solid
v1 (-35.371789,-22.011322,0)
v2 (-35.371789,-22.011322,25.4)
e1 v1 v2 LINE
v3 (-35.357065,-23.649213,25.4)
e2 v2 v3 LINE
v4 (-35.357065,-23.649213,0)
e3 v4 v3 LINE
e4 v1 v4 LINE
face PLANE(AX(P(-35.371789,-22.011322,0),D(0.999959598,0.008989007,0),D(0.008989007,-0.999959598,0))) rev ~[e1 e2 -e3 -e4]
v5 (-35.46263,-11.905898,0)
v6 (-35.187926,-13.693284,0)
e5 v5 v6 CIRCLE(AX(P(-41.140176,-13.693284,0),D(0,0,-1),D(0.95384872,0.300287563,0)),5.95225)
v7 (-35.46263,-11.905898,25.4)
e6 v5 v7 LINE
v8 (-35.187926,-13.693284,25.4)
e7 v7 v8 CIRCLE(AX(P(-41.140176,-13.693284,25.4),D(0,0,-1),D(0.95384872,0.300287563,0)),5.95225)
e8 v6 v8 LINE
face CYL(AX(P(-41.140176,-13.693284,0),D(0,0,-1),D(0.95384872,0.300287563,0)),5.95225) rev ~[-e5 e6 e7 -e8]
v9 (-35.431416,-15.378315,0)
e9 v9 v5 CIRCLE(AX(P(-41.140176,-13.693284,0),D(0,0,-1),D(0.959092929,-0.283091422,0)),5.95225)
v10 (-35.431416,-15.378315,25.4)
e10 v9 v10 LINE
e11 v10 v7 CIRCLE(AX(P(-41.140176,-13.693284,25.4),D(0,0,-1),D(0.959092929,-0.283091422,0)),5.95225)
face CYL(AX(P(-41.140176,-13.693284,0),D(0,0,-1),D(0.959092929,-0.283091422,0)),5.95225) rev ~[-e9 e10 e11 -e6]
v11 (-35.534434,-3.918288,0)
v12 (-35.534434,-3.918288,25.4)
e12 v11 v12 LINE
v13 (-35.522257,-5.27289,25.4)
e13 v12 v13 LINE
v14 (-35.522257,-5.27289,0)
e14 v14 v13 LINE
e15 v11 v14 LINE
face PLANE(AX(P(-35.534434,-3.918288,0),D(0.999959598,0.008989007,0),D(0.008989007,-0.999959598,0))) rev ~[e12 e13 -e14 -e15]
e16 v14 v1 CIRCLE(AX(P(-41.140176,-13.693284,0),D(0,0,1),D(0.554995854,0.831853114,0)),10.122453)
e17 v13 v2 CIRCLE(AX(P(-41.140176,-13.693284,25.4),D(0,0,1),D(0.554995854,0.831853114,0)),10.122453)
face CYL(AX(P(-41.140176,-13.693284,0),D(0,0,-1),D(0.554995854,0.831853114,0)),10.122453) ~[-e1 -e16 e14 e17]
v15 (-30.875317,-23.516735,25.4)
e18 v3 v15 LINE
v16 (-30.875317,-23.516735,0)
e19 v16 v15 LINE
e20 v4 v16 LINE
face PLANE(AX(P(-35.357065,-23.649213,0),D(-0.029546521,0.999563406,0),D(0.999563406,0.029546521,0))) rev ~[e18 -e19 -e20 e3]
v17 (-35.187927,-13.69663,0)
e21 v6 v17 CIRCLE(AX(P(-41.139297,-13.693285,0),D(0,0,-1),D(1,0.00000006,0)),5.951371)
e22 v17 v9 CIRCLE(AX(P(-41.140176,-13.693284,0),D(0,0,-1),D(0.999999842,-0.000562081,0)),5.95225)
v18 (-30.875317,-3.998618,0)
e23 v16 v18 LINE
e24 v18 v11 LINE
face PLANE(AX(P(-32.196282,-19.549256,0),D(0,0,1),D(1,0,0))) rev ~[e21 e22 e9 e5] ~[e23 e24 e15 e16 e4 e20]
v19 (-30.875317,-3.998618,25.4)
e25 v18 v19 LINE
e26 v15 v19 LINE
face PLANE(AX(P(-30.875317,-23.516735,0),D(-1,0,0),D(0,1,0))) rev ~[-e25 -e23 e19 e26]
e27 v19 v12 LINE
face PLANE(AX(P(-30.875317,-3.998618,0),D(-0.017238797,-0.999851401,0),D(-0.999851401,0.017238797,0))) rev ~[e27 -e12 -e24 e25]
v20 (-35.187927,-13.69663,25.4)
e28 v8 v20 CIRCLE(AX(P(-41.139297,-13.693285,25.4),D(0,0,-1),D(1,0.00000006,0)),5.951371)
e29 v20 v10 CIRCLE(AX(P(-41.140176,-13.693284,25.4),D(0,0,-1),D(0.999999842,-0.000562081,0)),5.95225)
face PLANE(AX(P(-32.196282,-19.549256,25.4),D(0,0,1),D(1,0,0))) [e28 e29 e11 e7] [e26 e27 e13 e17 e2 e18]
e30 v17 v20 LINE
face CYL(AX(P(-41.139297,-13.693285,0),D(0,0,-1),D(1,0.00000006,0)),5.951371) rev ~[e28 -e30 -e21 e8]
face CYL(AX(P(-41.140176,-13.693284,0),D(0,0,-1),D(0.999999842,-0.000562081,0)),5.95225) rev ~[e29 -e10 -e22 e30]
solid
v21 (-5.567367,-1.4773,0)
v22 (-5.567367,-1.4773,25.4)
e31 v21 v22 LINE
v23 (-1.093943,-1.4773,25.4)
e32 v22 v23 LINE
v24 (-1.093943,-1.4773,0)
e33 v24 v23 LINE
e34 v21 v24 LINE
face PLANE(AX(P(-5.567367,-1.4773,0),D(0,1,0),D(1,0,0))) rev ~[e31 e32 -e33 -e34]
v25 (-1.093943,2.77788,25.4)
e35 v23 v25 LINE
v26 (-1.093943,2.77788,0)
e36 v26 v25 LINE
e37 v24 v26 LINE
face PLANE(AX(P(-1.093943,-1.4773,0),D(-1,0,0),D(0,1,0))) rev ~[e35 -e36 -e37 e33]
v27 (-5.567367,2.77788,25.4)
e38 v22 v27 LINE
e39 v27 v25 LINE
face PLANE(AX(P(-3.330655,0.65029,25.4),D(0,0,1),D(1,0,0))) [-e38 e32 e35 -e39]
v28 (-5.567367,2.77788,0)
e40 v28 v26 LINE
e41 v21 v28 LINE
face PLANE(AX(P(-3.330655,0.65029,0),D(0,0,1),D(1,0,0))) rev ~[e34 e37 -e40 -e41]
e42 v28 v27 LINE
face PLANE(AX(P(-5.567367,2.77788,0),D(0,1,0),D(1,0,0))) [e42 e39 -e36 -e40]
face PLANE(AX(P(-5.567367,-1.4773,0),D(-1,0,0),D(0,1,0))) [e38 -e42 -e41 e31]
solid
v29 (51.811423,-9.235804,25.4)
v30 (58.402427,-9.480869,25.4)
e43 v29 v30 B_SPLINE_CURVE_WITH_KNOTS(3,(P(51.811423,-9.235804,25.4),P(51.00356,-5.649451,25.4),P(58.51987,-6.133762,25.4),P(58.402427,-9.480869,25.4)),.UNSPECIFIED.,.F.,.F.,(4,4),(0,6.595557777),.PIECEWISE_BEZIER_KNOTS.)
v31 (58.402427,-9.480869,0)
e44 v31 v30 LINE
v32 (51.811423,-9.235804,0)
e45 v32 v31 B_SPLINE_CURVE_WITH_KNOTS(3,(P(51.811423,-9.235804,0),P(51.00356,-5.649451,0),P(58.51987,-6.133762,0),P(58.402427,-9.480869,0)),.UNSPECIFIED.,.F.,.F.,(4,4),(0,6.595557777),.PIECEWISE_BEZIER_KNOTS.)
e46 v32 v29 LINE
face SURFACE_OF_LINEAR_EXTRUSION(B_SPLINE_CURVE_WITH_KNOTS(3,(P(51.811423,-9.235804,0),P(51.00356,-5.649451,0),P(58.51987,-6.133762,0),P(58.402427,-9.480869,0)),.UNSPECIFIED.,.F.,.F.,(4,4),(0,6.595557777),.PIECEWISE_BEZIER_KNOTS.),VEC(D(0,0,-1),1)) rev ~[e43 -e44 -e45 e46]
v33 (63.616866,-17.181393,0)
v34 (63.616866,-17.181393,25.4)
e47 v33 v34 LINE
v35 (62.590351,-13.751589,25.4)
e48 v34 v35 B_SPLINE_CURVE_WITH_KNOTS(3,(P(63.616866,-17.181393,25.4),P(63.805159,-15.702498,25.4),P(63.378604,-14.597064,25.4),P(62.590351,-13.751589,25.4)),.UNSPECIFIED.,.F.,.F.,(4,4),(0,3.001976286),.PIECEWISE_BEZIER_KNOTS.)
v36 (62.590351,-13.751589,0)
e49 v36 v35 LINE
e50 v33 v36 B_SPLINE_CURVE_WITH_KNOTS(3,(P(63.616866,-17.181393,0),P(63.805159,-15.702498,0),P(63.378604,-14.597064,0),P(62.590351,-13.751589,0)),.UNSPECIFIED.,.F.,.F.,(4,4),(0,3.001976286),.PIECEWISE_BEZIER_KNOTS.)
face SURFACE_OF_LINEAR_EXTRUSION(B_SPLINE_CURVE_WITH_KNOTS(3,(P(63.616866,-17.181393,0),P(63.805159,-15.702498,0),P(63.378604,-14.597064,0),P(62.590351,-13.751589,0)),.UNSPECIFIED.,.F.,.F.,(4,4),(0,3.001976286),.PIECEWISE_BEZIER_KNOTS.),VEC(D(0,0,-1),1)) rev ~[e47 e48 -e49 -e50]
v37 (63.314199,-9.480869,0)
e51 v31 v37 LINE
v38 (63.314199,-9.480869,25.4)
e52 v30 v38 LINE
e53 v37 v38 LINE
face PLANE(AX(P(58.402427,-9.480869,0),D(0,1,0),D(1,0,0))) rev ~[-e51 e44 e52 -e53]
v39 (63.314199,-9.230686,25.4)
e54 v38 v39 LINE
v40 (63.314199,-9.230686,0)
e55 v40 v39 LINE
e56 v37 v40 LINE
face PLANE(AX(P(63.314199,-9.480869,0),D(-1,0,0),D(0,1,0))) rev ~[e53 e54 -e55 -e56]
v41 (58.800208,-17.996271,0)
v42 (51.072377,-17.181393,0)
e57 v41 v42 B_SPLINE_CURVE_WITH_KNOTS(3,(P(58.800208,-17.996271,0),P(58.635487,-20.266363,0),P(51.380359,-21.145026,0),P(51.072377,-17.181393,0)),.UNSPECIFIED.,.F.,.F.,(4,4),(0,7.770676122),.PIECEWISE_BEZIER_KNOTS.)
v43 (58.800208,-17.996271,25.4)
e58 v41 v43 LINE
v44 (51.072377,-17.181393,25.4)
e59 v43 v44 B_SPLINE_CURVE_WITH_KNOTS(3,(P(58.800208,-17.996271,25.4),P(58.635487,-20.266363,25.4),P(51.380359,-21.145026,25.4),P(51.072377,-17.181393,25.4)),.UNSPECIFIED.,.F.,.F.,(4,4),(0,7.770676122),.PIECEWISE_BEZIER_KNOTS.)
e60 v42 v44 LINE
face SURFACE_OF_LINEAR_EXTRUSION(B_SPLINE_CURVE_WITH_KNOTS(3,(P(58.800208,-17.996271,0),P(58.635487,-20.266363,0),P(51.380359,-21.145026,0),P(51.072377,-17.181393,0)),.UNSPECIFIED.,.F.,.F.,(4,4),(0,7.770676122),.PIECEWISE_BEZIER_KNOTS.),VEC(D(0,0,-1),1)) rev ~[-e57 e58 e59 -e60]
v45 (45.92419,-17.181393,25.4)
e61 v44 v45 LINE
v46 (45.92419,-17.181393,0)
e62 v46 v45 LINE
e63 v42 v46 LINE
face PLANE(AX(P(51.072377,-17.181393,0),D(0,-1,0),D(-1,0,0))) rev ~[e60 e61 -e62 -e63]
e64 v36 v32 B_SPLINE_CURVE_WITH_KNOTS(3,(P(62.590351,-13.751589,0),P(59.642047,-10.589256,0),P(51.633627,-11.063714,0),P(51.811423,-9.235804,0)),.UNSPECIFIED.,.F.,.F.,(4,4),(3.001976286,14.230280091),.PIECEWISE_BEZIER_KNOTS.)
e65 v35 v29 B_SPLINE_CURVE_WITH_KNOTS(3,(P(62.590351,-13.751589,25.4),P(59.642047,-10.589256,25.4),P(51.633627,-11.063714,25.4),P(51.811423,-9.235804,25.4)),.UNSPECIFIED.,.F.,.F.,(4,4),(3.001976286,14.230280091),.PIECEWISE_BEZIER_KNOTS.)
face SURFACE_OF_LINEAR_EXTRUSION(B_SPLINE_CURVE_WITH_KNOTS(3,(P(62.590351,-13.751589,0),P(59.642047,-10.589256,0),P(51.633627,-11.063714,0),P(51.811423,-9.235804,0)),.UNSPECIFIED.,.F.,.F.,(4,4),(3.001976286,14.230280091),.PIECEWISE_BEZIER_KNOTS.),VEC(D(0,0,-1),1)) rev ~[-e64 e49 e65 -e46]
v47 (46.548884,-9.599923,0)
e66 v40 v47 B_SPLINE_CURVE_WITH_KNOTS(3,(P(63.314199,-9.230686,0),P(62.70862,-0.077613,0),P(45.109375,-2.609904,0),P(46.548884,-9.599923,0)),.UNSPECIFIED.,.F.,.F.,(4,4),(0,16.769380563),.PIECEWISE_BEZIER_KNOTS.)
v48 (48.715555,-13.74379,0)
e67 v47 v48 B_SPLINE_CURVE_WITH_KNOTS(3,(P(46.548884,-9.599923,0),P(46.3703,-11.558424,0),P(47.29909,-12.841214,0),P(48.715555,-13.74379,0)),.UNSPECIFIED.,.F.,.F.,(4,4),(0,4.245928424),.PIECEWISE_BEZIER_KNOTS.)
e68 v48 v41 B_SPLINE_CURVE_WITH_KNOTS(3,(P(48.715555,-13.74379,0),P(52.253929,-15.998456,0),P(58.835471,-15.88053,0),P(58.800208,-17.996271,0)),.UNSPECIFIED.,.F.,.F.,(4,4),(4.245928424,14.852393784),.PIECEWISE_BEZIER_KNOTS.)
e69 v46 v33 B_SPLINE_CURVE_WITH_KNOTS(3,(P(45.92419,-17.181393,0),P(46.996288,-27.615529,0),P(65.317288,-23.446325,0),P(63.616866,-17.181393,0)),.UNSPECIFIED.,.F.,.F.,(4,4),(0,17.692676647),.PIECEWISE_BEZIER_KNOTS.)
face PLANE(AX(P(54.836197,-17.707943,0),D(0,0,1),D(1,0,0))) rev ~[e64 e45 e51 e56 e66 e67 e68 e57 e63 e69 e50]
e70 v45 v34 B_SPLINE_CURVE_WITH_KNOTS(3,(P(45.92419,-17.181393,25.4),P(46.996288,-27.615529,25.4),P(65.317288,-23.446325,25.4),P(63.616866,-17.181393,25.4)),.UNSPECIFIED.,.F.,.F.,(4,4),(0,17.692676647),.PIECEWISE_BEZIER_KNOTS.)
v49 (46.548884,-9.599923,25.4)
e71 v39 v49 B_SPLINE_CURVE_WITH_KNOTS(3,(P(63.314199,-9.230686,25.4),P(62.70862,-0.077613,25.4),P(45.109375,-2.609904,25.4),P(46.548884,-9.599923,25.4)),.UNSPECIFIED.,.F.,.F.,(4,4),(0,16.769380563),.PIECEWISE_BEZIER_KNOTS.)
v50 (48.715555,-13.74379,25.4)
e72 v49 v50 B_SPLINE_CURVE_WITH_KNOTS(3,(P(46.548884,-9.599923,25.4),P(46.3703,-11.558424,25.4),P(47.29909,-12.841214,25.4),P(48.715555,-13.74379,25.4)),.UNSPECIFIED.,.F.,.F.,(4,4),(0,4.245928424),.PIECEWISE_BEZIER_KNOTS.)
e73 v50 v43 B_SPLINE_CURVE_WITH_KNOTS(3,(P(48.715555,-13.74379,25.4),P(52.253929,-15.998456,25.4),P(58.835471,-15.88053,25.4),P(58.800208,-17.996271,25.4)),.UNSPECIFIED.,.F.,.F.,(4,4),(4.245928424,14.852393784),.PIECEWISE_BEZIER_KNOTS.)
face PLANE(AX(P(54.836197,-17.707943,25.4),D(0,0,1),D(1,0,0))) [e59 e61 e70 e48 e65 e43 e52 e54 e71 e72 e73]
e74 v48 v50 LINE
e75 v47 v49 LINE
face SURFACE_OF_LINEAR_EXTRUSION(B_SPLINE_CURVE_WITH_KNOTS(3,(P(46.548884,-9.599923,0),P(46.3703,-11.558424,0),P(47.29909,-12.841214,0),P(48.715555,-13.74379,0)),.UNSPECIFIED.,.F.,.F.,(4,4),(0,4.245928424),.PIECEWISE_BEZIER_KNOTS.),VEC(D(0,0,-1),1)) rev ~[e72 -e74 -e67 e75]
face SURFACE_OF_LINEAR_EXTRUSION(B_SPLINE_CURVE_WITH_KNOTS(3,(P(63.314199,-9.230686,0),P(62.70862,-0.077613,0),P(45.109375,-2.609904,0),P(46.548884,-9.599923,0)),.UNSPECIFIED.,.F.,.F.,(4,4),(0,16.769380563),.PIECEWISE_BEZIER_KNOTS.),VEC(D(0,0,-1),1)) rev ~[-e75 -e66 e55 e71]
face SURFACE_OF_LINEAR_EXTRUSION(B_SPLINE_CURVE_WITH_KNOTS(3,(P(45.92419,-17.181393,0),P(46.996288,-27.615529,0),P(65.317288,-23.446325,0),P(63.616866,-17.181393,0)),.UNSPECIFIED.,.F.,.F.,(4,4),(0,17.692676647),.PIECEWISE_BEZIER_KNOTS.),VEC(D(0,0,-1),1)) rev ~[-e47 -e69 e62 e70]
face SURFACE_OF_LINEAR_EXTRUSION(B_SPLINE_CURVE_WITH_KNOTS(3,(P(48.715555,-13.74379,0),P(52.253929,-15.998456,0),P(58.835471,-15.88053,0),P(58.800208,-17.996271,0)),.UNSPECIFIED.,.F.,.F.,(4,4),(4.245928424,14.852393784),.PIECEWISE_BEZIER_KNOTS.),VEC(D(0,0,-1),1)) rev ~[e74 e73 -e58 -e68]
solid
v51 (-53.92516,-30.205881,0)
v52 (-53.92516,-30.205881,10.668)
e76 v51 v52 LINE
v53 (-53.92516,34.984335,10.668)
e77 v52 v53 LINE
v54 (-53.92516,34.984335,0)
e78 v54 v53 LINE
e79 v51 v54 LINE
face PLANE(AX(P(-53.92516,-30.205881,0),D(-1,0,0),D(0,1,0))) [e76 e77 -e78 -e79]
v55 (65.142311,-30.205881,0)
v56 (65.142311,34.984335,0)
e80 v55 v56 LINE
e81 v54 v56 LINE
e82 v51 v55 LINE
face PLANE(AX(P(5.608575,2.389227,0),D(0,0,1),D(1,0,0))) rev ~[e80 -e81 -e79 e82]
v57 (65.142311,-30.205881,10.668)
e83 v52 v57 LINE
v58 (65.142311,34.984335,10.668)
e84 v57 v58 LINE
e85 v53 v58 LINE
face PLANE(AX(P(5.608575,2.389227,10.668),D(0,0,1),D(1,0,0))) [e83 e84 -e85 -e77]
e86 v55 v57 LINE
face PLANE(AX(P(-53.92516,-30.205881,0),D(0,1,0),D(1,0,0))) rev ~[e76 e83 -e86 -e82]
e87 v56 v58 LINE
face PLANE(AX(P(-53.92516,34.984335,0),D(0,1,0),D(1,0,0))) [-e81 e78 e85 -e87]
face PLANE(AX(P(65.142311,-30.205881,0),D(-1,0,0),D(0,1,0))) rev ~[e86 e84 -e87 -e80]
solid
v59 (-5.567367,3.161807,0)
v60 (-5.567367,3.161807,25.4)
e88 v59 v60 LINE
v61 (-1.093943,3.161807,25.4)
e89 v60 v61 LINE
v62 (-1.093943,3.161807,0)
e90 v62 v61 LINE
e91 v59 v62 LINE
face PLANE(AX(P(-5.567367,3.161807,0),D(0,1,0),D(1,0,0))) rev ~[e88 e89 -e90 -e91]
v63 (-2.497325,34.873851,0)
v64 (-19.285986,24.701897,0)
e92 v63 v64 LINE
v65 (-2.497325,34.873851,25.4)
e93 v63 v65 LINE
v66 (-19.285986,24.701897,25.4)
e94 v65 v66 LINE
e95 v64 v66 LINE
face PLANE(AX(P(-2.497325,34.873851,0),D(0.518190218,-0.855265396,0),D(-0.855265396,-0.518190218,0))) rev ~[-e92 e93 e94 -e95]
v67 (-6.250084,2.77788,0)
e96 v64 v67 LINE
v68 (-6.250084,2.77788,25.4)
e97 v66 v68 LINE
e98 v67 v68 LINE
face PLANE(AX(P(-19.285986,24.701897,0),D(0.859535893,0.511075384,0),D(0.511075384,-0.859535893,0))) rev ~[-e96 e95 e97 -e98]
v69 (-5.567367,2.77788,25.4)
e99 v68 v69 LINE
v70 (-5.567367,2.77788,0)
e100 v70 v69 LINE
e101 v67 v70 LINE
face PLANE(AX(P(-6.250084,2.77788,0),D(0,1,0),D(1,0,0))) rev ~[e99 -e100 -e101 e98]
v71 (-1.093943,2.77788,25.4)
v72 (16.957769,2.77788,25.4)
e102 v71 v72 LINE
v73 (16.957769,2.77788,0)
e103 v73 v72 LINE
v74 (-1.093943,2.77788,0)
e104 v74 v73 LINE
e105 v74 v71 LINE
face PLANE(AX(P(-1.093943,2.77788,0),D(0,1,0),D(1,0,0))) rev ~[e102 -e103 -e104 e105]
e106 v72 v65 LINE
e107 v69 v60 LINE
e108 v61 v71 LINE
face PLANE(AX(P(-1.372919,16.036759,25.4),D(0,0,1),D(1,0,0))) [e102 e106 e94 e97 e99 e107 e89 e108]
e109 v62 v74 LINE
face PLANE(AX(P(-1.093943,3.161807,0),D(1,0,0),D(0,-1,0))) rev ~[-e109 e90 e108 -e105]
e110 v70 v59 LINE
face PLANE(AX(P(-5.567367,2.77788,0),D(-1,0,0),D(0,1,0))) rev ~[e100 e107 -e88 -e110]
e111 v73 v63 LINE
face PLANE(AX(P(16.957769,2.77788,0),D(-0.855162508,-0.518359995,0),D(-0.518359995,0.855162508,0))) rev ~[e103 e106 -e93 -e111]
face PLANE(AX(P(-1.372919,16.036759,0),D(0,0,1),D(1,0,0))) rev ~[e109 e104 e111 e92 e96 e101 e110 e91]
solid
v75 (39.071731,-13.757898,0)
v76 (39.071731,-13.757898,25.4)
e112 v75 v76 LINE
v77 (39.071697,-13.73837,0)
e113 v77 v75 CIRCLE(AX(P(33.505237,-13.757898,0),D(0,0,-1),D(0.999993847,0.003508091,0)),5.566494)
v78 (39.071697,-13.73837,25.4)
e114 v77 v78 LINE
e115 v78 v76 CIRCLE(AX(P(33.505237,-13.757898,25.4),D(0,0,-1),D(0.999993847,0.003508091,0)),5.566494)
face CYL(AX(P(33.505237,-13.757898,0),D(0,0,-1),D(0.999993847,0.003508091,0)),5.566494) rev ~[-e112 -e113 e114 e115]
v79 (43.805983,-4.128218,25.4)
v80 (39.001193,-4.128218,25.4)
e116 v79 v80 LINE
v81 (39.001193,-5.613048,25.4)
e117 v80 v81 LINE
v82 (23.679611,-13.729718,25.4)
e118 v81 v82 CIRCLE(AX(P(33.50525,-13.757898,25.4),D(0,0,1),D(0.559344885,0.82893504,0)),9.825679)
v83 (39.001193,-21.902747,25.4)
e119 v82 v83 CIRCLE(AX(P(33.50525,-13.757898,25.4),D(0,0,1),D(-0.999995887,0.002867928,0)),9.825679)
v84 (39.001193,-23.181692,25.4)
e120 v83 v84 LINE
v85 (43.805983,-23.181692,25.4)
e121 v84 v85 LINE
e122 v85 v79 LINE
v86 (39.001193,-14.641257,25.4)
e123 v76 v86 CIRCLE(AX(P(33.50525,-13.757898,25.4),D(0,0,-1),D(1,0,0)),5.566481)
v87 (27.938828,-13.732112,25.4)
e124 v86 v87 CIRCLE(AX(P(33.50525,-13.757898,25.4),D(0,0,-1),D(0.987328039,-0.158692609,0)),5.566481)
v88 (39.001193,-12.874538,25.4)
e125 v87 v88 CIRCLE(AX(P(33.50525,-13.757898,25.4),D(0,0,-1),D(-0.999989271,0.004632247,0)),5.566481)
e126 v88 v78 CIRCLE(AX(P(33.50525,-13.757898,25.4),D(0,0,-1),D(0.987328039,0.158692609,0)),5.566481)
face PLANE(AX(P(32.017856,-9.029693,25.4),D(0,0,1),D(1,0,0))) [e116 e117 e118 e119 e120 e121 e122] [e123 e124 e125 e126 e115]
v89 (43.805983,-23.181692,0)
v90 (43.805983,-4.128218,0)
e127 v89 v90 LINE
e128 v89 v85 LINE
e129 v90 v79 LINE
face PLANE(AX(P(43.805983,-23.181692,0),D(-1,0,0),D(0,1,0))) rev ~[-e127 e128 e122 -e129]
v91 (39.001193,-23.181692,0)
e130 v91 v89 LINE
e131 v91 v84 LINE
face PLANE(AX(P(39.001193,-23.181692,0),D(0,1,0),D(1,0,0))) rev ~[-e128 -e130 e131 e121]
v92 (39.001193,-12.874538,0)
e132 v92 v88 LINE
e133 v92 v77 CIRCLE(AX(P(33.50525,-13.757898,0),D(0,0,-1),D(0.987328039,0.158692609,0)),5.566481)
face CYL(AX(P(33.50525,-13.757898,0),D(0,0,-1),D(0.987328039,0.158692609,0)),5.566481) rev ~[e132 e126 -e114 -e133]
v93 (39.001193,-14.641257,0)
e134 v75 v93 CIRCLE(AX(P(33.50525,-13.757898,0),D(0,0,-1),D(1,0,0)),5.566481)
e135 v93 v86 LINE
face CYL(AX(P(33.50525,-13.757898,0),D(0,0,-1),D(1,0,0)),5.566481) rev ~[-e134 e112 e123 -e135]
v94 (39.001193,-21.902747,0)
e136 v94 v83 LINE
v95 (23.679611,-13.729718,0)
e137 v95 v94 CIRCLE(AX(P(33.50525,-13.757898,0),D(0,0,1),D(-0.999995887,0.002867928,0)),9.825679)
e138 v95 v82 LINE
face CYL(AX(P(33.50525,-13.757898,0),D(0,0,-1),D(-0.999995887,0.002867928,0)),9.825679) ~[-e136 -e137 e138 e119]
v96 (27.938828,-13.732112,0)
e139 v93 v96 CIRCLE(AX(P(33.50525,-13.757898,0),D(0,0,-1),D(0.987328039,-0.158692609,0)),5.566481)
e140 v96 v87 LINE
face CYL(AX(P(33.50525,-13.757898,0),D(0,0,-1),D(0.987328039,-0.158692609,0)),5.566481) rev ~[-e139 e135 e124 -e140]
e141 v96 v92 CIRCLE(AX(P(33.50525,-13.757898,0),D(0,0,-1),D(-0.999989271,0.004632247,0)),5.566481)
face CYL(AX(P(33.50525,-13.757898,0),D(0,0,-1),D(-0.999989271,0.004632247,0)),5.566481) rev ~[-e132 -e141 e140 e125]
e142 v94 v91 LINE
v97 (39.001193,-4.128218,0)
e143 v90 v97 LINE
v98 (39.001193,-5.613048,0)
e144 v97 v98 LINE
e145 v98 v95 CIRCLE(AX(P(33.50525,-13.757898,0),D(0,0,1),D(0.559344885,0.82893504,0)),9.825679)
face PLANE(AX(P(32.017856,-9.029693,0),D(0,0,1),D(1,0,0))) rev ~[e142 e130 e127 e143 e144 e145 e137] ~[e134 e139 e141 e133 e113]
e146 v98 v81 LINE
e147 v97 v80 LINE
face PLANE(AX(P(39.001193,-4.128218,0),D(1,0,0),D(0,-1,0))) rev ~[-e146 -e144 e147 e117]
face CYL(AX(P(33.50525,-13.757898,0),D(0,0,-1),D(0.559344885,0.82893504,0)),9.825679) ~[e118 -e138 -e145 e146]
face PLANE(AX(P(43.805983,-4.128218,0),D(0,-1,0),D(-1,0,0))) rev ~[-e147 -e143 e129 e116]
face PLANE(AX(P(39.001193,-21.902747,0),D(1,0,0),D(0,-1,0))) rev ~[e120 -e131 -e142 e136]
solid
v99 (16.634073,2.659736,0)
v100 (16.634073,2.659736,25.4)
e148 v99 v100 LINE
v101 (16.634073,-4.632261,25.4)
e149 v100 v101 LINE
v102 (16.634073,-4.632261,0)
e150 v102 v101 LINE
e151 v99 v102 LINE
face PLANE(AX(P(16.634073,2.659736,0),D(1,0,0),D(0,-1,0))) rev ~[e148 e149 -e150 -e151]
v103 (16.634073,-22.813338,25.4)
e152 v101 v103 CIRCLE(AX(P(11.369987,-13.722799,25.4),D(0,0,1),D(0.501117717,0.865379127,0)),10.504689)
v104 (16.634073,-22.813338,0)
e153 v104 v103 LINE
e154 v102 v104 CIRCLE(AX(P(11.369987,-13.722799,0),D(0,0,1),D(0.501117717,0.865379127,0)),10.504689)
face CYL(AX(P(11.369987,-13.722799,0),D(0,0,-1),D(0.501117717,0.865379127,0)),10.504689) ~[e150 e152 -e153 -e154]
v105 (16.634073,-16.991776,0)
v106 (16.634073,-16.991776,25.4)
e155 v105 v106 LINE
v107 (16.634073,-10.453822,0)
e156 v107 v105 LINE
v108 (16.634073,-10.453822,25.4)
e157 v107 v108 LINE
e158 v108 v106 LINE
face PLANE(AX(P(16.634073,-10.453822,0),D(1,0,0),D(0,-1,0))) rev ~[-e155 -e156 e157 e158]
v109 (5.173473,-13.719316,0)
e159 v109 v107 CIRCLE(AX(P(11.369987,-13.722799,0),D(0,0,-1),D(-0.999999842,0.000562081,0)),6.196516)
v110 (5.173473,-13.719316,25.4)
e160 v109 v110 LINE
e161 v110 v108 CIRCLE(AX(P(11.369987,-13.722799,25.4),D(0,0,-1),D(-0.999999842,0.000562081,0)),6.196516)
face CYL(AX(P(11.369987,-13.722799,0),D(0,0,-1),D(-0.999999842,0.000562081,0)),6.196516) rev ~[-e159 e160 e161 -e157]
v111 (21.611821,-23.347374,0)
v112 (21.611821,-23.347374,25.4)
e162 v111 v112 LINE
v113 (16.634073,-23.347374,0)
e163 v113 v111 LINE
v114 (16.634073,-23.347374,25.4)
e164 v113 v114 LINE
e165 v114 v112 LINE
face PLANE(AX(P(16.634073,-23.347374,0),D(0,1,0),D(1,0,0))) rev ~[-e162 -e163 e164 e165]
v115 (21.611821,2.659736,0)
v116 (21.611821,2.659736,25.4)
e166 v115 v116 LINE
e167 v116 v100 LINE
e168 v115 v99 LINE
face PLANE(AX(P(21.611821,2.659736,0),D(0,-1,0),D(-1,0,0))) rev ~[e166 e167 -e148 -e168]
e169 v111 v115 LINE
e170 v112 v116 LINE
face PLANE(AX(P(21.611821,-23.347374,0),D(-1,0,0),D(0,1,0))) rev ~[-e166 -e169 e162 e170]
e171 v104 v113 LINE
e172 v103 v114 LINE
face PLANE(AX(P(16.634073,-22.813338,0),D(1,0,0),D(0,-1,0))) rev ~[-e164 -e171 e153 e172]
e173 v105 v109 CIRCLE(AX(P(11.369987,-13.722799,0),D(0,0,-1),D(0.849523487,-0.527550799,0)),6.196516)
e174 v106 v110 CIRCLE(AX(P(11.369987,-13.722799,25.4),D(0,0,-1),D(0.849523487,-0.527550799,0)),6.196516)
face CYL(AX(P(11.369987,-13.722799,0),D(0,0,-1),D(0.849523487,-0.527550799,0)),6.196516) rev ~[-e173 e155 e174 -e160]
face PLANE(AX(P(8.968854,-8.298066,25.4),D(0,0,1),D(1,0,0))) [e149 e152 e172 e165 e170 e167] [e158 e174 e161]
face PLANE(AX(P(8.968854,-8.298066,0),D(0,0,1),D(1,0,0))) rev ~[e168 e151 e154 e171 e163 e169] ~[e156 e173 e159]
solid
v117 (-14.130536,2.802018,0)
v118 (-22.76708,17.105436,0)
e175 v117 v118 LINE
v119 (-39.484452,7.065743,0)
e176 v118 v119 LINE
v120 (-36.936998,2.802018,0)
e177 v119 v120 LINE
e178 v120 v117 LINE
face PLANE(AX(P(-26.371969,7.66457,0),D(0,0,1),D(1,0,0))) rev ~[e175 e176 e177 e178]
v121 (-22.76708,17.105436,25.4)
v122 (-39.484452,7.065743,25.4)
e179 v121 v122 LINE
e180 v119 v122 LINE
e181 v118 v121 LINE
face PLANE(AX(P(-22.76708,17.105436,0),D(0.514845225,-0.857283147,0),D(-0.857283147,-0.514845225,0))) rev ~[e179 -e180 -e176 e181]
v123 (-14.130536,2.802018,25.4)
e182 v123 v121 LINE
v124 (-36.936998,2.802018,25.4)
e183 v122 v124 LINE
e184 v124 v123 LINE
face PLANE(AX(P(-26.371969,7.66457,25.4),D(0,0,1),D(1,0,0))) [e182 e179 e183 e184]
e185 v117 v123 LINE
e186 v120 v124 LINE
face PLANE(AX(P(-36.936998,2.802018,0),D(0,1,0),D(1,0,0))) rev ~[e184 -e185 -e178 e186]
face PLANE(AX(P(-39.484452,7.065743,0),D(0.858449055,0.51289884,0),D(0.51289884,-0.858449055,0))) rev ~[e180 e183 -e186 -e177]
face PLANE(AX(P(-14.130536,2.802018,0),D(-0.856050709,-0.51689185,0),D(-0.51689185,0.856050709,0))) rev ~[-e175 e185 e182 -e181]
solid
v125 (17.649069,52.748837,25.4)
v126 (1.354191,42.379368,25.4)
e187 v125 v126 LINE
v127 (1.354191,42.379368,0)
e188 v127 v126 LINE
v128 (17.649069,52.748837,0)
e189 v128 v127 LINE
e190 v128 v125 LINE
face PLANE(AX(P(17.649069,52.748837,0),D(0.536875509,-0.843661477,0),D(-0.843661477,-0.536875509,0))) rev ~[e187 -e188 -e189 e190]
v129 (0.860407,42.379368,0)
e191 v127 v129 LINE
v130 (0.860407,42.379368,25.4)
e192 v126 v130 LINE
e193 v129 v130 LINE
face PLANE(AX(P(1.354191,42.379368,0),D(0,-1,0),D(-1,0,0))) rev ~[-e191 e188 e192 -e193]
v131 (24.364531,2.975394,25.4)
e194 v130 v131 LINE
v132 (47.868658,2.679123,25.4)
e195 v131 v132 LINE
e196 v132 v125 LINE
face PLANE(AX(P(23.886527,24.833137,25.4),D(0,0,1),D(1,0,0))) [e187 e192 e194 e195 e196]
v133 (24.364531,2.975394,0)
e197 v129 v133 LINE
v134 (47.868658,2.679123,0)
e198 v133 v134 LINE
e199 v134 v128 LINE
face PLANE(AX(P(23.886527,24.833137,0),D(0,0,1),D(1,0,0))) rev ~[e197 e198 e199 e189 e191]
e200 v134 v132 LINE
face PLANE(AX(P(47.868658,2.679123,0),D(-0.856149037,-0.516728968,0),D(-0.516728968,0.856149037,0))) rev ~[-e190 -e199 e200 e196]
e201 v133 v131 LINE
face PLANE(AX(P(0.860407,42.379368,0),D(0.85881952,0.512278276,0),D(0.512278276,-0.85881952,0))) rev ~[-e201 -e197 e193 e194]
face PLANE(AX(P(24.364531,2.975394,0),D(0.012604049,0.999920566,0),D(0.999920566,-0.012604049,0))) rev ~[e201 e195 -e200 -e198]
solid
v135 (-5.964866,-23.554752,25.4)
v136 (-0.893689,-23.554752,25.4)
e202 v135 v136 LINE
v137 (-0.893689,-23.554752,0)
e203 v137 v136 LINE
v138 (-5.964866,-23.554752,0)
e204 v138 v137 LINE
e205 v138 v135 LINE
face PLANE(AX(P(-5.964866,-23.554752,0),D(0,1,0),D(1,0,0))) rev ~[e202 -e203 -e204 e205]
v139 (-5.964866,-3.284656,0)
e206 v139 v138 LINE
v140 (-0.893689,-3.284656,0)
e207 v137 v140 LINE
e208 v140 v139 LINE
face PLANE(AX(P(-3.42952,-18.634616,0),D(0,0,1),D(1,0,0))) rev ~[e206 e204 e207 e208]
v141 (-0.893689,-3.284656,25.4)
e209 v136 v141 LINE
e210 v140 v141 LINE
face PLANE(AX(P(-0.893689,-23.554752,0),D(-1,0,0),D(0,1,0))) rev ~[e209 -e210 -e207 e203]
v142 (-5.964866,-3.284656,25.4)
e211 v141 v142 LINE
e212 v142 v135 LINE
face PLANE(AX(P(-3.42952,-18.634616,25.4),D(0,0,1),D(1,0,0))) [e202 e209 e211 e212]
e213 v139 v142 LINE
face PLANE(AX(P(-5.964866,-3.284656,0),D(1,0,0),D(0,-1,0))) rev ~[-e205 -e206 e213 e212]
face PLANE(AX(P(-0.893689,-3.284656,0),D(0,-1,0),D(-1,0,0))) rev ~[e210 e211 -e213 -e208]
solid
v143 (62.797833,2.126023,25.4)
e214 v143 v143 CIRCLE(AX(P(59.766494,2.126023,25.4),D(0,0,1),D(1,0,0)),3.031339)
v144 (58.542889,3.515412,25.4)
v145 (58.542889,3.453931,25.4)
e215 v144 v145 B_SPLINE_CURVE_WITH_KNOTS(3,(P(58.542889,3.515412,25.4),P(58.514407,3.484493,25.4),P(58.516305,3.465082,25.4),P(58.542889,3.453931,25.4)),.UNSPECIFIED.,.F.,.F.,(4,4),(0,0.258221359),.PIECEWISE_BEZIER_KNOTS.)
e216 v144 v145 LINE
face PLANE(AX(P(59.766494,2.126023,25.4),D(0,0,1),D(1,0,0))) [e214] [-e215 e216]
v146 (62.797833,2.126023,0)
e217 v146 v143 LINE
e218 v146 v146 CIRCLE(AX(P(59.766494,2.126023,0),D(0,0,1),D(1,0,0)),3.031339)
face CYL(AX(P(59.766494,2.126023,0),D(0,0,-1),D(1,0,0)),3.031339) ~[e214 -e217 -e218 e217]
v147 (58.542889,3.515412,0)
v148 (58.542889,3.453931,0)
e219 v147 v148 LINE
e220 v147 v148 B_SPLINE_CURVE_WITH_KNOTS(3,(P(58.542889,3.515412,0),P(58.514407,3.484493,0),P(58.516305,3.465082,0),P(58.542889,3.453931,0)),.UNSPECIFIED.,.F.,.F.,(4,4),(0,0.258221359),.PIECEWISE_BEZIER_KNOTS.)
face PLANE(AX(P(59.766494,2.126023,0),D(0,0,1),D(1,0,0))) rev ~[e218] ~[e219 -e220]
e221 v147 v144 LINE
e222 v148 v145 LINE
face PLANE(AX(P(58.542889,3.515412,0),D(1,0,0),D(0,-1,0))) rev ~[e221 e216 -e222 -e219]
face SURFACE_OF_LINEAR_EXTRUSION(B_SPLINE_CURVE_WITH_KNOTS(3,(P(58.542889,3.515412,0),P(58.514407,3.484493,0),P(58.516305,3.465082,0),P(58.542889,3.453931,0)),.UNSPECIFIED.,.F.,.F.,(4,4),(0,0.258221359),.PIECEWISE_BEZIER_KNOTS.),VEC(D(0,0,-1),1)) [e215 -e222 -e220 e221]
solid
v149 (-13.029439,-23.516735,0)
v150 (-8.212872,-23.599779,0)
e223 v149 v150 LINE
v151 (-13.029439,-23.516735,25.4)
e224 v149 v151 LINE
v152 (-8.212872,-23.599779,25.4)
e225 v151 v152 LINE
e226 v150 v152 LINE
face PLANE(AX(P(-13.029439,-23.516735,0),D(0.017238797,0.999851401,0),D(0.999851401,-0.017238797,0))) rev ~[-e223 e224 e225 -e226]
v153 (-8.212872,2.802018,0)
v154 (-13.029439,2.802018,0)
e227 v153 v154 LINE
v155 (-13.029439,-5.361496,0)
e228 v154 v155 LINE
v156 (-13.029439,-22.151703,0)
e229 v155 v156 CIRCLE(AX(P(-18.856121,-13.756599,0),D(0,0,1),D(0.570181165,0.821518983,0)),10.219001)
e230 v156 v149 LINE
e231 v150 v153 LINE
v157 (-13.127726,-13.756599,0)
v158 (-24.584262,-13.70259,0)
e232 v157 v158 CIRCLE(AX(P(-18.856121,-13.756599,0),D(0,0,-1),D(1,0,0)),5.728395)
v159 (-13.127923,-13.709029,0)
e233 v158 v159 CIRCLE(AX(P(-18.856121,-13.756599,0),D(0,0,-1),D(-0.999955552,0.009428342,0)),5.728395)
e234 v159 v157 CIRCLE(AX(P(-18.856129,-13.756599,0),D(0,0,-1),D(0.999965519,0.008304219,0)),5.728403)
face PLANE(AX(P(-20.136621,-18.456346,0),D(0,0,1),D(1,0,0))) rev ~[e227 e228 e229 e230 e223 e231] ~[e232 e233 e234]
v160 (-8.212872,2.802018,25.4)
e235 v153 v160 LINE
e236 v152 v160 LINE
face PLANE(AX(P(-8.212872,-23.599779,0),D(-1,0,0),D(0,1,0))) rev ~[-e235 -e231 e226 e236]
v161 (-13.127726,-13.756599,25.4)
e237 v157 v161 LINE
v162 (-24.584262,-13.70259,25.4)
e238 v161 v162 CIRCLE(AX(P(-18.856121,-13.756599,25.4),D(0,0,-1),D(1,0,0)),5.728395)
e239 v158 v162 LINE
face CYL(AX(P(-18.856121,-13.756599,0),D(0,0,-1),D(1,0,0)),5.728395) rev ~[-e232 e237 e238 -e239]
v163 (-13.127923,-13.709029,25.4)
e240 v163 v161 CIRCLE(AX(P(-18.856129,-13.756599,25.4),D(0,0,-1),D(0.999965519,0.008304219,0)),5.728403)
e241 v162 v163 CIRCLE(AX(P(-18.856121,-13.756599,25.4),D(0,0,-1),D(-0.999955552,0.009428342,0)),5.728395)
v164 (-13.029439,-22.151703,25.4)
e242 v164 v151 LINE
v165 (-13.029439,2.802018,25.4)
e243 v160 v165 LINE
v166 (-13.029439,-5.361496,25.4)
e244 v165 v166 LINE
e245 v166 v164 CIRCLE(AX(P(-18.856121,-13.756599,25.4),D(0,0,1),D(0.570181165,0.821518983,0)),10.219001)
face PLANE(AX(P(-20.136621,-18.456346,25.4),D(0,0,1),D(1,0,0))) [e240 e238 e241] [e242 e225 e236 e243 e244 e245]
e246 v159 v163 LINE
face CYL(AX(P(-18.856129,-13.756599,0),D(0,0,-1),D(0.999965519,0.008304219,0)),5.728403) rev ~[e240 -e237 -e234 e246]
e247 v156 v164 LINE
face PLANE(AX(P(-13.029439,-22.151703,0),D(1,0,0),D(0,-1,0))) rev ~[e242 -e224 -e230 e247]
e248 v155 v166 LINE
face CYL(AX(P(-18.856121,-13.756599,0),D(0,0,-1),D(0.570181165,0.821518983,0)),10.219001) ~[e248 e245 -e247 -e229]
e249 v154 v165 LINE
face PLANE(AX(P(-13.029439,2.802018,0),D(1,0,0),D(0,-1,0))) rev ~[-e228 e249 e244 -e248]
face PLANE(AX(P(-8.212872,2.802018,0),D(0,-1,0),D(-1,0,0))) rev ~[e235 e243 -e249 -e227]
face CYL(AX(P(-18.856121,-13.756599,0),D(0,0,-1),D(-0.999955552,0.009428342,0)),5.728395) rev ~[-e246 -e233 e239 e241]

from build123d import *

# Parameters (mm, degrees)
F1_DEPTH = 25.4
F0_W     = 4.473424051
F0_H     = 4.2551801307
F0_R     = 3.0313387654
F2_W     = 119.0674714744
F2_H     = 65.1902165264
F3_DEPTH = 10.668


with BuildPart() as f1:
    # F0 (on Top) → F1 (new body)
    with BuildSketch(Plane.XY):
        with BuildLine():
            Line((-30.875317251, -13.699053923), (-31.0177251155, -13.6989738783))
            ThreePointArc((-31.0177251155, -13.6989738783), (-32.1733780362, -18.3901533475), (-35.3717890416, -22.0113224302))
            Line((-35.3717890416, -22.0113224302), (-35.3570654375, -23.6492129693))
            Line((-35.3570654375, -23.6492129693), (-30.875317251, -23.516735062))
            Line((-30.875317251, -23.516735062), (-30.875317251, -13.699053923))
        make_face()
        with BuildLine():
            Line((-35.4626304443, -11.9058976395), (-35.5222570014, -5.2728903326))
            ThreePointArc((-35.5222570014, -5.2728903326), (-51.2622202285, -13.7842750411), (-35.3717890416, -22.0113224302))
            Line((-35.3717890416, -22.0113224302), (-35.4314155987, -15.3783151233))
            ThreePointArc((-35.4314155987, -15.3783151233), (-47.0921857379, -13.7467890581), (-35.4626304443, -11.9058976395))
        make_face()
        with BuildLine():
            ThreePointArc((-31.0177251155, -13.6989738783), (-31.0177239162, -13.6961290609), (-31.0177235164, -13.6932842433))
            ThreePointArc((-31.0177235164, -13.6932842433), (-32.2146182443, -8.9185105437), (-35.5222570014, -5.2728903326))
            Line((-35.5222570014, -5.2728903326), (-35.4626304443, -11.9058976395))
            ThreePointArc((-35.4626304443, -11.9058976395), (-35.2570033033, -12.7890977121), (-35.1879264914, -13.6932842433))
            ThreePointArc((-35.1879264914, -13.6932842433), (-35.1879267264, -13.6949570657), (-35.1879274316, -13.6966298879))
            Line((-35.1879274316, -13.6966298879), (-31.0177251155, -13.6989738783))
        make_face()
        with BuildLine():
            ThreePointArc((-35.3717890416, -22.0113224302), (-32.1733780362, -18.3901533475), (-31.0177251155, -13.6989738783))
            Line((-31.0177251155, -13.6989738783), (-35.1879274316, -13.6966298879))
            ThreePointArc((-35.1879274316, -13.6966298879), (-35.2493527288, -14.5462059537), (-35.4314155987, -15.3783151233))
            Line((-35.4314155987, -15.3783151233), (-35.3717890416, -22.0113224302))
        make_face()
        with BuildLine():
            ThreePointArc((-35.5222570014, -5.2728903326), (-32.2146182443, -8.9185105437), (-31.0177235164, -13.6932842433))
            ThreePointArc((-31.0177235164, -13.6932842433), (-31.0177239162, -13.6961290609), (-31.0177251155, -13.6989738783))
            Line((-31.0177251155, -13.6989738783), (-30.875317251, -13.699053923))
            Line((-30.875317251, -13.699053923), (-30.875317251, -3.9986177819))
            Line((-30.875317251, -3.9986177819), (-35.5344340205, -3.9182882756))
            Line((-35.5344340205, -3.9182882756), (-35.5222570014, -5.2728903326))
        make_face()
    extrude(amount=F1_DEPTH)


with BuildPart() as f1b:
    # F0 (on Top) → F1, piece 2 (new body)
    with BuildSketch(Plane.XY):
        with BuildLine():
            Line((-24.5842620734, -13.702590004), (-29.0749657689, -13.7000658659))
            ThreePointArc((-29.0749657689, -13.7000658659), (-23.6185065316, -22.7980408662), (-13.0294393748, -22.1517025158))
            Line((-13.0294393748, -22.1517025158), (-13.0294393748, -13.7090847474))
            Line((-13.0294393748, -13.7090847474), (-13.1279232852, -13.7090293915))
            ThreePointArc((-13.1279232852, -13.7090293915), (-13.1277751463, -13.7328141294), (-13.1277257663, -13.7565992773))
            ThreePointArc((-13.1277257663, -13.7565992773), (-18.8831261638, -19.4849310841), (-24.5842620734, -13.702590004))
        make_face()
        with BuildLine():
            Line((-13.0294393748, -13.7090847474), (-13.0294393748, -22.1517025158))
            ThreePointArc((-13.0294393748, -22.1517025158), (-9.8015409773, -18.4939567995), (-8.6371203075, -13.7565992773))
            ThreePointArc((-8.6371203075, -13.7565992773), (-8.6371451281, -13.7340763487), (-8.6372195897, -13.7115535296))
            Line((-8.6372195897, -13.7115535296), (-13.0294393748, -13.7090847474))
        make_face()
        with BuildLine():
            ThreePointArc((-8.6371203075, -13.7565992773), (-9.8015409773, -18.4939567995), (-13.0294393748, -22.1517025158))
            Line((-13.0294393748, -22.1517025158), (-13.0294393748, -23.516735062))
            Line((-13.0294393748, -23.516735062), (-8.2128718495, -23.5997792333))
            Line((-8.2128718495, -23.5997792333), (-8.2128718495, -13.7117920473))
            Line((-8.2128718495, -13.7117920473), (-8.6372195897, -13.7115535296))
            ThreePointArc((-8.6372195897, -13.7115535296), (-8.6371451281, -13.7340763487), (-8.6371203075, -13.7565992773))
        make_face()
        with BuildLine():
            Line((-13.0294393748, 2.802018309), (-13.0294393748, -5.3614960387))
            ThreePointArc((-13.0294393748, -5.3614960387), (-9.8120042218, -8.9992967446), (-8.6372195897, -13.7115535296))
            Line((-8.6372195897, -13.7115535296), (-8.2128718495, -13.7117920473))
            Line((-8.2128718495, -13.7117920473), (-8.2128718495, 2.802018309))
            Line((-8.2128718495, 2.802018309), (-13.0294393748, 2.802018309))
        make_face()
        with BuildLine():
            ThreePointArc((-13.0294393748, -5.3614960387), (-23.5684147201, -4.6889496462), (-29.0749657689, -13.7000658659))
            Line((-29.0749657689, -13.7000658659), (-24.5842620734, -13.702590004))
            ThreePointArc((-24.5842620734, -13.702590004), (-18.8529014068, -8.0282047213), (-13.1279232852, -13.7090293915))
            Line((-13.1279232852, -13.7090293915), (-13.0294393748, -13.7090847474))
            Line((-13.0294393748, -13.7090847474), (-13.0294393748, -5.3614960387))
        make_face()
        with BuildLine():
            ThreePointArc((-8.6372195897, -13.7115535296), (-9.8120042218, -8.9992967446), (-13.0294393748, -5.3614960387))
            Line((-13.0294393748, -5.3614960387), (-13.0294393748, -13.7090847474))
            Line((-13.0294393748, -13.7090847474), (-8.6372195897, -13.7115535296))
        make_face()
    extrude(amount=F1_DEPTH)


with BuildPart() as f1c:
    # F0 (on Top) → F1, piece 3 (new body)
    with BuildSketch(Plane.XY):
        Polygon((-0.8936892846, -13.7159060189), (-5.964865908, -13.7130556082), (-5.964865908, -23.5547516495), (-0.8936892846, -23.5547516495), align=None)
        Polygon((-5.964865908, -3.284655977), (-5.964865908, -13.7130556082), (-0.8936892846, -13.7159060189), (-0.8936892846, -3.284655977), align=None)
    extrude(amount=F1_DEPTH)


with BuildPart() as f1d:
    # F0 (on Top) → F1, piece 4 (new body)
    with BuildSketch(Plane.XY):
        with Locations((-3.3306546975, 0.6502897595)):
            Rectangle(F0_W, F0_H)
    extrude(amount=F1_DEPTH)


with BuildPart() as f1e:
    # F0 (on Top) → F1, piece 5 (new body)
    with BuildSketch(Plane.XY):
        with BuildLine():
            ThreePointArc((16.6340731084, -4.6322608663), (6.1260749403, -4.6206090368), (0.8653004574, -13.7168947132))
            Line((0.8653004574, -13.7168947132), (5.1734727752, -13.7193162539))
            ThreePointArc((5.1734727752, -13.7193162539), (9.6719832069, -7.7634713647), (16.6340731084, -10.4538223921))
            Line((16.6340731084, -10.4538223921), (16.6340731084, -4.6322608663))
        make_face()
        with BuildLine():
            Line((5.1734727752, -13.7193162539), (0.8653004574, -13.7168947132))
            ThreePointArc((0.8653004574, -13.7168947132), (6.1209596036, -22.8220404146), (16.6340731084, -22.8133375248))
            Line((16.6340731084, -22.8133375248), (16.6340731084, -16.991775999))
            ThreePointArc((16.6340731084, -16.991775999), (9.6686338522, -19.6811716696), (5.1734727752, -13.7193162539))
        make_face()
        with BuildLine():
            Line((16.6340731084, -16.991775999), (16.6340731084, -22.8133375248))
            ThreePointArc((16.6340731084, -22.8133375248), (19.8267542843, -19.9542982046), (21.6118209064, -16.0580363962))
            Line((21.6118209064, -16.0580363962), (21.6118209064, -13.7285559329))
            Line((21.6118209064, -13.7285559329), (17.5665022046, -13.7262821372))
            ThreePointArc((17.5665022046, -13.7262821372), (17.328359964, -15.4241528333), (16.6340731084, -16.991775999))
        make_face()
        with BuildLine():
            ThreePointArc((21.6118209064, -11.3875619949), (19.8267542843, -7.4913001865), (16.6340731084, -4.6322608663))
            Line((16.6340731084, -4.6322608663), (16.6340731084, -10.4538223921))
            ThreePointArc((16.6340731084, -10.4538223921), (17.3288378777, -12.023120168), (17.5665031835, -13.7227991955))
            ThreePointArc((17.5665031835, -13.7227991955), (17.5665029388, -13.7245406664), (17.5665022046, -13.7262821372))
            Line((17.5665022046, -13.7262821372), (21.6118209064, -13.7285559329))
            Line((21.6118209064, -13.7285559329), (21.6118209064, -11.3875619949))
        make_face()
        with BuildLine():
            Line((16.6340731084, 2.6597355027), (16.6340731084, -4.6322608663))
            ThreePointArc((16.6340731084, -4.6322608663), (19.8267542843, -7.4913001865), (21.6118209064, -11.3875619949))
            Line((21.6118209064, -11.3875619949), (21.6118209064, 2.6597355027))
            Line((21.6118209064, 2.6597355027), (16.6340731084, 2.6597355027))
        make_face()
        with BuildLine():
            ThreePointArc((21.6118209064, -16.0580363962), (19.8267542843, -19.9542982046), (16.6340731084, -22.8133375248))
            Line((16.6340731084, -22.8133375248), (16.6340731084, -23.3473740518))
            Line((16.6340731084, -23.3473740518), (21.6118209064, -23.3473740518))
            Line((21.6118209064, -23.3473740518), (21.6118209064, -16.0580363962))
        make_face()
        with BuildLine():
            ThreePointArc((17.5665031835, -13.7227991955), (17.3288378777, -12.023120168), (16.6340731084, -10.4538223921))
            Line((16.6340731084, -10.4538223921), (16.6340731084, -13.7257580367))
            Line((16.6340731084, -13.7257580367), (17.5665022046, -13.7262821372))
            ThreePointArc((17.5665022046, -13.7262821372), (17.5665029388, -13.7245406664), (17.5665031835, -13.7227991955))
        make_face()
        with BuildLine():
            Line((16.6340731084, -13.7257580367), (16.6340731084, -16.991775999))
            ThreePointArc((16.6340731084, -16.991775999), (17.328359964, -15.4241528333), (17.5665022046, -13.7262821372))
            Line((17.5665022046, -13.7262821372), (16.6340731084, -13.7257580367))
        make_face()
    extrude(amount=F1_DEPTH)


with BuildPart() as f1f:
    # F0 (on Top) → F1, piece 6 (new body)
    with BuildSketch(Plane.XY):
        with BuildLine():
            ThreePointArc((39.0011928976, -5.6130481669), (28.9056141111, -5.0753107132), (23.6796114621, -13.7297181982))
            Line((23.6796114621, -13.7297181982), (27.9388281247, -13.7321122219))
            ThreePointArc((27.9388281247, -13.7321122219), (33.0750170948, -8.2080673953), (39.0011928976, -12.8745380892))
            Line((39.0011928976, -12.8745380892), (39.0011928976, -5.6130481669))
        make_face()
        with BuildLine():
            ThreePointArc((43.3309135445, -13.7407638168), (42.1772074459, -9.1382533724), (39.0011928976, -5.6130481669))
            Line((39.0011928976, -5.6130481669), (39.0011928976, -12.8745380892))
            ThreePointArc((39.0011928976, -12.8745380892), (39.0532828228, -13.3050796672), (39.0716968819, -13.7383697931))
            Line((39.0716968819, -13.7383697931), (43.3309135445, -13.7407638168))
        make_face()
        with BuildLine():
            Line((39.0011928976, -14.6412569927), (39.0011928976, -21.9027469149))
            ThreePointArc((39.0011928976, -21.9027469149), (42.1812319499, -18.3699790007), (43.3309284831, -13.7578975409))
            ThreePointArc((43.3309284831, -13.7578975409), (43.3309247484, -13.7493306756), (43.3309135445, -13.7407638168))
            Line((43.3309135445, -13.7407638168), (39.0716968819, -13.7383697931))
            ThreePointArc((39.0716968819, -13.7383697931), (39.0717225714, -13.748133652), (39.0717311346, -13.7578975409))
            ThreePointArc((39.0717311346, -13.7578975409), (39.0540685534, -14.2009831884), (39.0011928976, -14.6412569927))
        make_face()
        with BuildLine():
            Line((27.9388281247, -13.7321122219), (23.6796114621, -13.7297181982))
            ThreePointArc((23.6796114621, -13.7297181982), (28.8807319901, -22.4272572358), (39.0011928976, -21.9027469149))
            Line((39.0011928976, -21.9027469149), (39.0011928976, -14.6412569927))
            ThreePointArc((39.0011928976, -14.6412569927), (33.0493135242, -19.3056751987), (27.9388281247, -13.7321122219))
        make_face()
        with BuildLine():
            ThreePointArc((43.3309284831, -13.7578975409), (42.1812319499, -18.3699790007), (39.0011928976, -21.9027469149))
            Line((39.0011928976, -21.9027469149), (39.0011928976, -23.1816917658))
            Line((39.0011928976, -23.1816917658), (43.8059829175, -23.1816917658))
            Line((43.8059829175, -23.1816917658), (43.8059829175, -13.7410308441))
            Line((43.8059829175, -13.7410308441), (43.3309135445, -13.7407638168))
            ThreePointArc((43.3309135445, -13.7407638168), (43.3309247484, -13.7493306756), (43.3309284831, -13.7578975409))
        make_face()
        with BuildLine():
            Line((39.0011928976, -4.1282181628), (39.0011928976, -5.6130481669))
            ThreePointArc((39.0011928976, -5.6130481669), (42.1772074459, -9.1382533724), (43.3309135445, -13.7407638168))
            Line((43.3309135445, -13.7407638168), (43.8059829175, -13.7410308441))
            Line((43.8059829175, -13.7410308441), (43.8059829175, -4.1282181628))
            Line((43.8059829175, -4.1282181628), (39.0011928976, -4.1282181628))
        make_face()
    extrude(amount=F1_DEPTH)


with BuildPart() as f1g:
    # F0 (on Top) → F1, piece 7 (new body)
    with BuildSketch(Plane.XY):
        with BuildLine():
            Line((62.5903514688, -13.7515891761), (48.7155546756, -13.7437904199))
            add(Edge.make_bspline(
                [(48.7155546756, -13.7437904199), (52.2539287746, -15.9984560349), (58.83547103, -15.8805297751), (58.8002084507, -17.9962712332)],
                knots=[4.2459284241, 4.2459284241, 4.2459284241, 4.2459284241, 14.8523937837, 14.8523937837, 14.8523937837, 14.8523937837], degree=3))
            add(Edge.make_bspline(
                [(58.8002084507, -17.9962712332), (58.6354872896, -20.2663625582), (51.3803586364, -21.1450262918), (51.0723768715, -17.1813930312)],
                knots=[0, 0, 0, 0, 7.7706761224, 7.7706761224, 7.7706761224, 7.7706761224], degree=3))
            Line((51.0723768715, -17.1813930312), (45.9241895689, -17.1813930312))
            add(Edge.make_bspline(
                [(45.9241895689, -17.1813930312), (46.9962880015, -27.6155285537), (65.3172880411, -23.4463252127), (63.6168662162, -17.1813930312)],
                knots=[0, 0, 0, 0, 17.6926766473, 17.6926766473, 17.6926766473, 17.6926766473], degree=3))
            add(Edge.make_bspline(
                [(63.6168662162, -17.1813930312), (63.8051585342, -15.7024980497), (63.378604204, -14.5970641726), (62.5903514688, -13.7515891761)],
                knots=[0, 0, 0, 0, 3.0019762863, 3.0019762863, 3.0019762863, 3.0019762863], degree=3))
        make_face()
        with BuildLine():
            add(Edge.make_bspline(
                [(46.5488844162, -9.5999231873), (46.370299762, -11.5584239085), (47.2990900332, -12.8412136898), (48.7155546756, -13.7437904199)],
                knots=[0, 0, 0, 0, 4.2459284241, 4.2459284241, 4.2459284241, 4.2459284241], degree=3))
            Line((48.7155546756, -13.7437904199), (62.5903514688, -13.7515891761))
            add(Edge.make_bspline(
                [(62.5903514688, -13.7515891761), (59.6420466387, -10.5892556947), (51.6336267896, -11.0637141312), (51.8114231527, -9.2358039692)],
                knots=[3.0019762863, 3.0019762863, 3.0019762863, 3.0019762863, 14.2302800909, 14.2302800909, 14.2302800909, 14.2302800909], degree=3))
            add(Edge.make_bspline(
                [(51.8114231527, -9.2358039692), (51.0035604239, -5.6494511664), (58.5198700428, -6.1337624211), (58.4024265409, -9.480868699)],
                knots=[0, 0, 0, 0, 6.5955577766, 6.5955577766, 6.5955577766, 6.5955577766], degree=3))
            Line((58.4024265409, -9.480868699), (63.3141994476, -9.480868699))
            Line((63.3141994476, -9.480868699), (63.3141994476, -9.2306856532))
            add(Edge.make_bspline(
                [(63.3141994476, -9.2306856532), (62.7086202266, -0.0776128052), (45.1093754484, -2.6099037836), (46.5488844162, -9.5999231873)],
                knots=[0, 0, 0, 0, 16.7693805628, 16.7693805628, 16.7693805628, 16.7693805628], degree=3))
        make_face()
    extrude(amount=F1_DEPTH)


with BuildPart() as f1h:
    # F0 (on Top) → F1, piece 8 (new body)
    with BuildSketch(Plane.XY):
        Polygon((-2.4973251857, 34.8738506436), (-19.2859862, 24.7018970549), (-6.2500843778, 2.7778798249), (-5.567366723, 2.7778798249), (-5.567366723, 3.161806846), (-1.093942672, 3.161806846), (-1.093942672, 2.7778798249), (16.9577691704, 2.7778798249), align=None)
    extrude(amount=F1_DEPTH)


with BuildPart() as f1i:
    # F0 (on Top) → F1, piece 9 (new body)
    with BuildSketch(Plane.XY):
        Polygon((-22.7670799941, 17.1054359525), (-39.4844524562, 7.0657432079), (-36.9369983673, 2.802018309), (-14.1305355355, 2.802018309), align=None)
    extrude(amount=F1_DEPTH)


with BuildPart() as f1j:
    # F0 (on Top) → F1, piece 10 (new body)
    with BuildSketch(Plane.XY):
        with Locations((59.7664937377, 2.1260231733)):
            Circle(F0_R)
        with BuildLine():
            Line((59.1067112982, 0.3426910553), (58.5428886116, 0.3488712537))
            Line((58.5428886116, 0.3488712537), (58.5428886116, 3.4539313658))
            add(Edge.make_bspline(
                [(58.5428886116, 3.4539313658), (58.7973896157, 3.347181031), (61.3144424979, 3.9975331091), (61.0991145337, 2.5561019436)],
                knots=[0.2582213588, 0.2582213588, 0.2582213588, 0.2582213588, 2.7303052016, 2.7303052016, 2.7303052016, 2.7303052016], degree=3))
            add(Edge.make_bspline(
                [(61.0991145337, 2.5561019436), (61.059884727, 2.2975115571), (60.7758825016, 1.8209142523), (60.3246130049, 1.7162117874)],
                knots=[0, 0, 0, 0, 1.1424833007, 1.1424833007, 1.1424833007, 1.1424833007], degree=3))
            Line((60.3246130049, 1.7162117874), (61.3395310938, 0.3629892599))
            Line((61.3395310938, 0.3629892599), (60.6223233044, 0.3629892599))
            Line((60.6223233044, 0.3629892599), (59.8442181945, 1.5673573362))
            Line((59.8442181945, 1.5673573362), (59.1067112982, 1.5673573362))
            Line((59.1067112982, 1.5673573362), (59.1067112982, 0.3426910553))
        make_face(mode=Mode.SUBTRACT)
        with BuildLine():
            Line((58.5428886116, 3.5154118668), (58.5428886116, 3.4539313658))
            add(Edge.make_bspline(
                [(58.5428886116, 3.5154118668), (58.5144071665, 3.4844931829), (58.5163047255, 3.4650819651), (58.5428886116, 3.4539313658)],
                knots=[0, 0, 0, 0, 0.2582213588, 0.2582213588, 0.2582213588, 0.2582213588], degree=3))
        make_face(mode=Mode.SUBTRACT)
        with BuildLine():
            Line((58.5428886116, 3.4539313658), (58.5428886116, 0.3488712537))
            Line((58.5428886116, 0.3488712537), (59.1067112982, 0.3426910553))
            Line((59.1067112982, 0.3426910553), (59.1067112982, 1.5673573362))
            Line((59.1067112982, 1.5673573362), (59.8442181945, 1.5673573362))
            Line((59.8442181945, 1.5673573362), (60.6223233044, 0.3629892599))
            Line((60.6223233044, 0.3629892599), (61.3395310938, 0.3629892599))
            Line((61.3395310938, 0.3629892599), (60.3246130049, 1.7162117874))
            add(Edge.make_bspline(
                [(61.0991145337, 2.5561019436), (61.059884727, 2.2975115571), (60.7758825016, 1.8209142523), (60.3246130049, 1.7162117874)],
                knots=[0, 0, 0, 0, 1.1424833007, 1.1424833007, 1.1424833007, 1.1424833007], degree=3))
            add(Edge.make_bspline(
                [(58.5428886116, 3.4539313658), (58.7973896157, 3.347181031), (61.3144424979, 3.9975331091), (61.0991145337, 2.5561019436)],
                knots=[0.2582213588, 0.2582213588, 0.2582213588, 0.2582213588, 2.7303052016, 2.7303052016, 2.7303052016, 2.7303052016], degree=3))
        make_face()
        with BuildLine():
            Line((59.1757521033, 2.2975115571), (59.1757521033, 2.9670482036))
            Line((59.1757521033, 2.9670482036), (60.2137260139, 2.9750945978))
            add(Edge.make_bspline(
                [(60.2137260139, 2.2975115571), (60.4953467846, 2.3555287626), (60.5999454856, 2.8383072931), (60.2137260139, 2.9750945978)],
                knots=[0, 0, 0, 0, 0.6775830407, 0.6775830407, 0.6775830407, 0.6775830407], degree=3))
            Line((60.2137260139, 2.2975115571), (59.1757521033, 2.2975115571))
        make_face(mode=Mode.SUBTRACT)
        with BuildLine():
            Line((60.2137260139, 2.9750945978), (59.1757521033, 2.9670482036))
            Line((59.1757521033, 2.9670482036), (59.1757521033, 2.2975115571))
            Line((59.1757521033, 2.2975115571), (60.2137260139, 2.2975115571))
            add(Edge.make_bspline(
                [(60.2137260139, 2.2975115571), (60.4953467846, 2.3555287626), (60.5999454856, 2.8383072931), (60.2137260139, 2.9750945978)],
                knots=[0, 0, 0, 0, 0.6775830407, 0.6775830407, 0.6775830407, 0.6775830407], degree=3))
        make_face()
    extrude(amount=F1_DEPTH)


with BuildPart() as f1k:
    # F0 (on Top) → F1, piece 11 (new body)
    with BuildSketch(Plane.XY):
        Polygon((1.354191103, 42.3793680966), (0.8604074246, 42.3793680966), (24.3645310402, 2.9753935523), (47.8686578572, 2.6791228447), (17.6490694284, 52.7488365769), align=None)
    extrude(amount=F1_DEPTH)


with BuildPart() as f3:
    # F2 (on Top) → F3 (new body)
    with BuildSketch(Plane.XY):
        with Locations((5.6085754186, 2.3892270401)):
            Rectangle(F2_W, F2_H)
    extrude(amount=F3_DEPTH)


solid = Compound([f1.part, f1b.part, f1c.part, f1d.part, f1e.part, f1f.part, f1g.part, f1h.part, f1i.part, f1j.part, f1k.part, f3.part])
